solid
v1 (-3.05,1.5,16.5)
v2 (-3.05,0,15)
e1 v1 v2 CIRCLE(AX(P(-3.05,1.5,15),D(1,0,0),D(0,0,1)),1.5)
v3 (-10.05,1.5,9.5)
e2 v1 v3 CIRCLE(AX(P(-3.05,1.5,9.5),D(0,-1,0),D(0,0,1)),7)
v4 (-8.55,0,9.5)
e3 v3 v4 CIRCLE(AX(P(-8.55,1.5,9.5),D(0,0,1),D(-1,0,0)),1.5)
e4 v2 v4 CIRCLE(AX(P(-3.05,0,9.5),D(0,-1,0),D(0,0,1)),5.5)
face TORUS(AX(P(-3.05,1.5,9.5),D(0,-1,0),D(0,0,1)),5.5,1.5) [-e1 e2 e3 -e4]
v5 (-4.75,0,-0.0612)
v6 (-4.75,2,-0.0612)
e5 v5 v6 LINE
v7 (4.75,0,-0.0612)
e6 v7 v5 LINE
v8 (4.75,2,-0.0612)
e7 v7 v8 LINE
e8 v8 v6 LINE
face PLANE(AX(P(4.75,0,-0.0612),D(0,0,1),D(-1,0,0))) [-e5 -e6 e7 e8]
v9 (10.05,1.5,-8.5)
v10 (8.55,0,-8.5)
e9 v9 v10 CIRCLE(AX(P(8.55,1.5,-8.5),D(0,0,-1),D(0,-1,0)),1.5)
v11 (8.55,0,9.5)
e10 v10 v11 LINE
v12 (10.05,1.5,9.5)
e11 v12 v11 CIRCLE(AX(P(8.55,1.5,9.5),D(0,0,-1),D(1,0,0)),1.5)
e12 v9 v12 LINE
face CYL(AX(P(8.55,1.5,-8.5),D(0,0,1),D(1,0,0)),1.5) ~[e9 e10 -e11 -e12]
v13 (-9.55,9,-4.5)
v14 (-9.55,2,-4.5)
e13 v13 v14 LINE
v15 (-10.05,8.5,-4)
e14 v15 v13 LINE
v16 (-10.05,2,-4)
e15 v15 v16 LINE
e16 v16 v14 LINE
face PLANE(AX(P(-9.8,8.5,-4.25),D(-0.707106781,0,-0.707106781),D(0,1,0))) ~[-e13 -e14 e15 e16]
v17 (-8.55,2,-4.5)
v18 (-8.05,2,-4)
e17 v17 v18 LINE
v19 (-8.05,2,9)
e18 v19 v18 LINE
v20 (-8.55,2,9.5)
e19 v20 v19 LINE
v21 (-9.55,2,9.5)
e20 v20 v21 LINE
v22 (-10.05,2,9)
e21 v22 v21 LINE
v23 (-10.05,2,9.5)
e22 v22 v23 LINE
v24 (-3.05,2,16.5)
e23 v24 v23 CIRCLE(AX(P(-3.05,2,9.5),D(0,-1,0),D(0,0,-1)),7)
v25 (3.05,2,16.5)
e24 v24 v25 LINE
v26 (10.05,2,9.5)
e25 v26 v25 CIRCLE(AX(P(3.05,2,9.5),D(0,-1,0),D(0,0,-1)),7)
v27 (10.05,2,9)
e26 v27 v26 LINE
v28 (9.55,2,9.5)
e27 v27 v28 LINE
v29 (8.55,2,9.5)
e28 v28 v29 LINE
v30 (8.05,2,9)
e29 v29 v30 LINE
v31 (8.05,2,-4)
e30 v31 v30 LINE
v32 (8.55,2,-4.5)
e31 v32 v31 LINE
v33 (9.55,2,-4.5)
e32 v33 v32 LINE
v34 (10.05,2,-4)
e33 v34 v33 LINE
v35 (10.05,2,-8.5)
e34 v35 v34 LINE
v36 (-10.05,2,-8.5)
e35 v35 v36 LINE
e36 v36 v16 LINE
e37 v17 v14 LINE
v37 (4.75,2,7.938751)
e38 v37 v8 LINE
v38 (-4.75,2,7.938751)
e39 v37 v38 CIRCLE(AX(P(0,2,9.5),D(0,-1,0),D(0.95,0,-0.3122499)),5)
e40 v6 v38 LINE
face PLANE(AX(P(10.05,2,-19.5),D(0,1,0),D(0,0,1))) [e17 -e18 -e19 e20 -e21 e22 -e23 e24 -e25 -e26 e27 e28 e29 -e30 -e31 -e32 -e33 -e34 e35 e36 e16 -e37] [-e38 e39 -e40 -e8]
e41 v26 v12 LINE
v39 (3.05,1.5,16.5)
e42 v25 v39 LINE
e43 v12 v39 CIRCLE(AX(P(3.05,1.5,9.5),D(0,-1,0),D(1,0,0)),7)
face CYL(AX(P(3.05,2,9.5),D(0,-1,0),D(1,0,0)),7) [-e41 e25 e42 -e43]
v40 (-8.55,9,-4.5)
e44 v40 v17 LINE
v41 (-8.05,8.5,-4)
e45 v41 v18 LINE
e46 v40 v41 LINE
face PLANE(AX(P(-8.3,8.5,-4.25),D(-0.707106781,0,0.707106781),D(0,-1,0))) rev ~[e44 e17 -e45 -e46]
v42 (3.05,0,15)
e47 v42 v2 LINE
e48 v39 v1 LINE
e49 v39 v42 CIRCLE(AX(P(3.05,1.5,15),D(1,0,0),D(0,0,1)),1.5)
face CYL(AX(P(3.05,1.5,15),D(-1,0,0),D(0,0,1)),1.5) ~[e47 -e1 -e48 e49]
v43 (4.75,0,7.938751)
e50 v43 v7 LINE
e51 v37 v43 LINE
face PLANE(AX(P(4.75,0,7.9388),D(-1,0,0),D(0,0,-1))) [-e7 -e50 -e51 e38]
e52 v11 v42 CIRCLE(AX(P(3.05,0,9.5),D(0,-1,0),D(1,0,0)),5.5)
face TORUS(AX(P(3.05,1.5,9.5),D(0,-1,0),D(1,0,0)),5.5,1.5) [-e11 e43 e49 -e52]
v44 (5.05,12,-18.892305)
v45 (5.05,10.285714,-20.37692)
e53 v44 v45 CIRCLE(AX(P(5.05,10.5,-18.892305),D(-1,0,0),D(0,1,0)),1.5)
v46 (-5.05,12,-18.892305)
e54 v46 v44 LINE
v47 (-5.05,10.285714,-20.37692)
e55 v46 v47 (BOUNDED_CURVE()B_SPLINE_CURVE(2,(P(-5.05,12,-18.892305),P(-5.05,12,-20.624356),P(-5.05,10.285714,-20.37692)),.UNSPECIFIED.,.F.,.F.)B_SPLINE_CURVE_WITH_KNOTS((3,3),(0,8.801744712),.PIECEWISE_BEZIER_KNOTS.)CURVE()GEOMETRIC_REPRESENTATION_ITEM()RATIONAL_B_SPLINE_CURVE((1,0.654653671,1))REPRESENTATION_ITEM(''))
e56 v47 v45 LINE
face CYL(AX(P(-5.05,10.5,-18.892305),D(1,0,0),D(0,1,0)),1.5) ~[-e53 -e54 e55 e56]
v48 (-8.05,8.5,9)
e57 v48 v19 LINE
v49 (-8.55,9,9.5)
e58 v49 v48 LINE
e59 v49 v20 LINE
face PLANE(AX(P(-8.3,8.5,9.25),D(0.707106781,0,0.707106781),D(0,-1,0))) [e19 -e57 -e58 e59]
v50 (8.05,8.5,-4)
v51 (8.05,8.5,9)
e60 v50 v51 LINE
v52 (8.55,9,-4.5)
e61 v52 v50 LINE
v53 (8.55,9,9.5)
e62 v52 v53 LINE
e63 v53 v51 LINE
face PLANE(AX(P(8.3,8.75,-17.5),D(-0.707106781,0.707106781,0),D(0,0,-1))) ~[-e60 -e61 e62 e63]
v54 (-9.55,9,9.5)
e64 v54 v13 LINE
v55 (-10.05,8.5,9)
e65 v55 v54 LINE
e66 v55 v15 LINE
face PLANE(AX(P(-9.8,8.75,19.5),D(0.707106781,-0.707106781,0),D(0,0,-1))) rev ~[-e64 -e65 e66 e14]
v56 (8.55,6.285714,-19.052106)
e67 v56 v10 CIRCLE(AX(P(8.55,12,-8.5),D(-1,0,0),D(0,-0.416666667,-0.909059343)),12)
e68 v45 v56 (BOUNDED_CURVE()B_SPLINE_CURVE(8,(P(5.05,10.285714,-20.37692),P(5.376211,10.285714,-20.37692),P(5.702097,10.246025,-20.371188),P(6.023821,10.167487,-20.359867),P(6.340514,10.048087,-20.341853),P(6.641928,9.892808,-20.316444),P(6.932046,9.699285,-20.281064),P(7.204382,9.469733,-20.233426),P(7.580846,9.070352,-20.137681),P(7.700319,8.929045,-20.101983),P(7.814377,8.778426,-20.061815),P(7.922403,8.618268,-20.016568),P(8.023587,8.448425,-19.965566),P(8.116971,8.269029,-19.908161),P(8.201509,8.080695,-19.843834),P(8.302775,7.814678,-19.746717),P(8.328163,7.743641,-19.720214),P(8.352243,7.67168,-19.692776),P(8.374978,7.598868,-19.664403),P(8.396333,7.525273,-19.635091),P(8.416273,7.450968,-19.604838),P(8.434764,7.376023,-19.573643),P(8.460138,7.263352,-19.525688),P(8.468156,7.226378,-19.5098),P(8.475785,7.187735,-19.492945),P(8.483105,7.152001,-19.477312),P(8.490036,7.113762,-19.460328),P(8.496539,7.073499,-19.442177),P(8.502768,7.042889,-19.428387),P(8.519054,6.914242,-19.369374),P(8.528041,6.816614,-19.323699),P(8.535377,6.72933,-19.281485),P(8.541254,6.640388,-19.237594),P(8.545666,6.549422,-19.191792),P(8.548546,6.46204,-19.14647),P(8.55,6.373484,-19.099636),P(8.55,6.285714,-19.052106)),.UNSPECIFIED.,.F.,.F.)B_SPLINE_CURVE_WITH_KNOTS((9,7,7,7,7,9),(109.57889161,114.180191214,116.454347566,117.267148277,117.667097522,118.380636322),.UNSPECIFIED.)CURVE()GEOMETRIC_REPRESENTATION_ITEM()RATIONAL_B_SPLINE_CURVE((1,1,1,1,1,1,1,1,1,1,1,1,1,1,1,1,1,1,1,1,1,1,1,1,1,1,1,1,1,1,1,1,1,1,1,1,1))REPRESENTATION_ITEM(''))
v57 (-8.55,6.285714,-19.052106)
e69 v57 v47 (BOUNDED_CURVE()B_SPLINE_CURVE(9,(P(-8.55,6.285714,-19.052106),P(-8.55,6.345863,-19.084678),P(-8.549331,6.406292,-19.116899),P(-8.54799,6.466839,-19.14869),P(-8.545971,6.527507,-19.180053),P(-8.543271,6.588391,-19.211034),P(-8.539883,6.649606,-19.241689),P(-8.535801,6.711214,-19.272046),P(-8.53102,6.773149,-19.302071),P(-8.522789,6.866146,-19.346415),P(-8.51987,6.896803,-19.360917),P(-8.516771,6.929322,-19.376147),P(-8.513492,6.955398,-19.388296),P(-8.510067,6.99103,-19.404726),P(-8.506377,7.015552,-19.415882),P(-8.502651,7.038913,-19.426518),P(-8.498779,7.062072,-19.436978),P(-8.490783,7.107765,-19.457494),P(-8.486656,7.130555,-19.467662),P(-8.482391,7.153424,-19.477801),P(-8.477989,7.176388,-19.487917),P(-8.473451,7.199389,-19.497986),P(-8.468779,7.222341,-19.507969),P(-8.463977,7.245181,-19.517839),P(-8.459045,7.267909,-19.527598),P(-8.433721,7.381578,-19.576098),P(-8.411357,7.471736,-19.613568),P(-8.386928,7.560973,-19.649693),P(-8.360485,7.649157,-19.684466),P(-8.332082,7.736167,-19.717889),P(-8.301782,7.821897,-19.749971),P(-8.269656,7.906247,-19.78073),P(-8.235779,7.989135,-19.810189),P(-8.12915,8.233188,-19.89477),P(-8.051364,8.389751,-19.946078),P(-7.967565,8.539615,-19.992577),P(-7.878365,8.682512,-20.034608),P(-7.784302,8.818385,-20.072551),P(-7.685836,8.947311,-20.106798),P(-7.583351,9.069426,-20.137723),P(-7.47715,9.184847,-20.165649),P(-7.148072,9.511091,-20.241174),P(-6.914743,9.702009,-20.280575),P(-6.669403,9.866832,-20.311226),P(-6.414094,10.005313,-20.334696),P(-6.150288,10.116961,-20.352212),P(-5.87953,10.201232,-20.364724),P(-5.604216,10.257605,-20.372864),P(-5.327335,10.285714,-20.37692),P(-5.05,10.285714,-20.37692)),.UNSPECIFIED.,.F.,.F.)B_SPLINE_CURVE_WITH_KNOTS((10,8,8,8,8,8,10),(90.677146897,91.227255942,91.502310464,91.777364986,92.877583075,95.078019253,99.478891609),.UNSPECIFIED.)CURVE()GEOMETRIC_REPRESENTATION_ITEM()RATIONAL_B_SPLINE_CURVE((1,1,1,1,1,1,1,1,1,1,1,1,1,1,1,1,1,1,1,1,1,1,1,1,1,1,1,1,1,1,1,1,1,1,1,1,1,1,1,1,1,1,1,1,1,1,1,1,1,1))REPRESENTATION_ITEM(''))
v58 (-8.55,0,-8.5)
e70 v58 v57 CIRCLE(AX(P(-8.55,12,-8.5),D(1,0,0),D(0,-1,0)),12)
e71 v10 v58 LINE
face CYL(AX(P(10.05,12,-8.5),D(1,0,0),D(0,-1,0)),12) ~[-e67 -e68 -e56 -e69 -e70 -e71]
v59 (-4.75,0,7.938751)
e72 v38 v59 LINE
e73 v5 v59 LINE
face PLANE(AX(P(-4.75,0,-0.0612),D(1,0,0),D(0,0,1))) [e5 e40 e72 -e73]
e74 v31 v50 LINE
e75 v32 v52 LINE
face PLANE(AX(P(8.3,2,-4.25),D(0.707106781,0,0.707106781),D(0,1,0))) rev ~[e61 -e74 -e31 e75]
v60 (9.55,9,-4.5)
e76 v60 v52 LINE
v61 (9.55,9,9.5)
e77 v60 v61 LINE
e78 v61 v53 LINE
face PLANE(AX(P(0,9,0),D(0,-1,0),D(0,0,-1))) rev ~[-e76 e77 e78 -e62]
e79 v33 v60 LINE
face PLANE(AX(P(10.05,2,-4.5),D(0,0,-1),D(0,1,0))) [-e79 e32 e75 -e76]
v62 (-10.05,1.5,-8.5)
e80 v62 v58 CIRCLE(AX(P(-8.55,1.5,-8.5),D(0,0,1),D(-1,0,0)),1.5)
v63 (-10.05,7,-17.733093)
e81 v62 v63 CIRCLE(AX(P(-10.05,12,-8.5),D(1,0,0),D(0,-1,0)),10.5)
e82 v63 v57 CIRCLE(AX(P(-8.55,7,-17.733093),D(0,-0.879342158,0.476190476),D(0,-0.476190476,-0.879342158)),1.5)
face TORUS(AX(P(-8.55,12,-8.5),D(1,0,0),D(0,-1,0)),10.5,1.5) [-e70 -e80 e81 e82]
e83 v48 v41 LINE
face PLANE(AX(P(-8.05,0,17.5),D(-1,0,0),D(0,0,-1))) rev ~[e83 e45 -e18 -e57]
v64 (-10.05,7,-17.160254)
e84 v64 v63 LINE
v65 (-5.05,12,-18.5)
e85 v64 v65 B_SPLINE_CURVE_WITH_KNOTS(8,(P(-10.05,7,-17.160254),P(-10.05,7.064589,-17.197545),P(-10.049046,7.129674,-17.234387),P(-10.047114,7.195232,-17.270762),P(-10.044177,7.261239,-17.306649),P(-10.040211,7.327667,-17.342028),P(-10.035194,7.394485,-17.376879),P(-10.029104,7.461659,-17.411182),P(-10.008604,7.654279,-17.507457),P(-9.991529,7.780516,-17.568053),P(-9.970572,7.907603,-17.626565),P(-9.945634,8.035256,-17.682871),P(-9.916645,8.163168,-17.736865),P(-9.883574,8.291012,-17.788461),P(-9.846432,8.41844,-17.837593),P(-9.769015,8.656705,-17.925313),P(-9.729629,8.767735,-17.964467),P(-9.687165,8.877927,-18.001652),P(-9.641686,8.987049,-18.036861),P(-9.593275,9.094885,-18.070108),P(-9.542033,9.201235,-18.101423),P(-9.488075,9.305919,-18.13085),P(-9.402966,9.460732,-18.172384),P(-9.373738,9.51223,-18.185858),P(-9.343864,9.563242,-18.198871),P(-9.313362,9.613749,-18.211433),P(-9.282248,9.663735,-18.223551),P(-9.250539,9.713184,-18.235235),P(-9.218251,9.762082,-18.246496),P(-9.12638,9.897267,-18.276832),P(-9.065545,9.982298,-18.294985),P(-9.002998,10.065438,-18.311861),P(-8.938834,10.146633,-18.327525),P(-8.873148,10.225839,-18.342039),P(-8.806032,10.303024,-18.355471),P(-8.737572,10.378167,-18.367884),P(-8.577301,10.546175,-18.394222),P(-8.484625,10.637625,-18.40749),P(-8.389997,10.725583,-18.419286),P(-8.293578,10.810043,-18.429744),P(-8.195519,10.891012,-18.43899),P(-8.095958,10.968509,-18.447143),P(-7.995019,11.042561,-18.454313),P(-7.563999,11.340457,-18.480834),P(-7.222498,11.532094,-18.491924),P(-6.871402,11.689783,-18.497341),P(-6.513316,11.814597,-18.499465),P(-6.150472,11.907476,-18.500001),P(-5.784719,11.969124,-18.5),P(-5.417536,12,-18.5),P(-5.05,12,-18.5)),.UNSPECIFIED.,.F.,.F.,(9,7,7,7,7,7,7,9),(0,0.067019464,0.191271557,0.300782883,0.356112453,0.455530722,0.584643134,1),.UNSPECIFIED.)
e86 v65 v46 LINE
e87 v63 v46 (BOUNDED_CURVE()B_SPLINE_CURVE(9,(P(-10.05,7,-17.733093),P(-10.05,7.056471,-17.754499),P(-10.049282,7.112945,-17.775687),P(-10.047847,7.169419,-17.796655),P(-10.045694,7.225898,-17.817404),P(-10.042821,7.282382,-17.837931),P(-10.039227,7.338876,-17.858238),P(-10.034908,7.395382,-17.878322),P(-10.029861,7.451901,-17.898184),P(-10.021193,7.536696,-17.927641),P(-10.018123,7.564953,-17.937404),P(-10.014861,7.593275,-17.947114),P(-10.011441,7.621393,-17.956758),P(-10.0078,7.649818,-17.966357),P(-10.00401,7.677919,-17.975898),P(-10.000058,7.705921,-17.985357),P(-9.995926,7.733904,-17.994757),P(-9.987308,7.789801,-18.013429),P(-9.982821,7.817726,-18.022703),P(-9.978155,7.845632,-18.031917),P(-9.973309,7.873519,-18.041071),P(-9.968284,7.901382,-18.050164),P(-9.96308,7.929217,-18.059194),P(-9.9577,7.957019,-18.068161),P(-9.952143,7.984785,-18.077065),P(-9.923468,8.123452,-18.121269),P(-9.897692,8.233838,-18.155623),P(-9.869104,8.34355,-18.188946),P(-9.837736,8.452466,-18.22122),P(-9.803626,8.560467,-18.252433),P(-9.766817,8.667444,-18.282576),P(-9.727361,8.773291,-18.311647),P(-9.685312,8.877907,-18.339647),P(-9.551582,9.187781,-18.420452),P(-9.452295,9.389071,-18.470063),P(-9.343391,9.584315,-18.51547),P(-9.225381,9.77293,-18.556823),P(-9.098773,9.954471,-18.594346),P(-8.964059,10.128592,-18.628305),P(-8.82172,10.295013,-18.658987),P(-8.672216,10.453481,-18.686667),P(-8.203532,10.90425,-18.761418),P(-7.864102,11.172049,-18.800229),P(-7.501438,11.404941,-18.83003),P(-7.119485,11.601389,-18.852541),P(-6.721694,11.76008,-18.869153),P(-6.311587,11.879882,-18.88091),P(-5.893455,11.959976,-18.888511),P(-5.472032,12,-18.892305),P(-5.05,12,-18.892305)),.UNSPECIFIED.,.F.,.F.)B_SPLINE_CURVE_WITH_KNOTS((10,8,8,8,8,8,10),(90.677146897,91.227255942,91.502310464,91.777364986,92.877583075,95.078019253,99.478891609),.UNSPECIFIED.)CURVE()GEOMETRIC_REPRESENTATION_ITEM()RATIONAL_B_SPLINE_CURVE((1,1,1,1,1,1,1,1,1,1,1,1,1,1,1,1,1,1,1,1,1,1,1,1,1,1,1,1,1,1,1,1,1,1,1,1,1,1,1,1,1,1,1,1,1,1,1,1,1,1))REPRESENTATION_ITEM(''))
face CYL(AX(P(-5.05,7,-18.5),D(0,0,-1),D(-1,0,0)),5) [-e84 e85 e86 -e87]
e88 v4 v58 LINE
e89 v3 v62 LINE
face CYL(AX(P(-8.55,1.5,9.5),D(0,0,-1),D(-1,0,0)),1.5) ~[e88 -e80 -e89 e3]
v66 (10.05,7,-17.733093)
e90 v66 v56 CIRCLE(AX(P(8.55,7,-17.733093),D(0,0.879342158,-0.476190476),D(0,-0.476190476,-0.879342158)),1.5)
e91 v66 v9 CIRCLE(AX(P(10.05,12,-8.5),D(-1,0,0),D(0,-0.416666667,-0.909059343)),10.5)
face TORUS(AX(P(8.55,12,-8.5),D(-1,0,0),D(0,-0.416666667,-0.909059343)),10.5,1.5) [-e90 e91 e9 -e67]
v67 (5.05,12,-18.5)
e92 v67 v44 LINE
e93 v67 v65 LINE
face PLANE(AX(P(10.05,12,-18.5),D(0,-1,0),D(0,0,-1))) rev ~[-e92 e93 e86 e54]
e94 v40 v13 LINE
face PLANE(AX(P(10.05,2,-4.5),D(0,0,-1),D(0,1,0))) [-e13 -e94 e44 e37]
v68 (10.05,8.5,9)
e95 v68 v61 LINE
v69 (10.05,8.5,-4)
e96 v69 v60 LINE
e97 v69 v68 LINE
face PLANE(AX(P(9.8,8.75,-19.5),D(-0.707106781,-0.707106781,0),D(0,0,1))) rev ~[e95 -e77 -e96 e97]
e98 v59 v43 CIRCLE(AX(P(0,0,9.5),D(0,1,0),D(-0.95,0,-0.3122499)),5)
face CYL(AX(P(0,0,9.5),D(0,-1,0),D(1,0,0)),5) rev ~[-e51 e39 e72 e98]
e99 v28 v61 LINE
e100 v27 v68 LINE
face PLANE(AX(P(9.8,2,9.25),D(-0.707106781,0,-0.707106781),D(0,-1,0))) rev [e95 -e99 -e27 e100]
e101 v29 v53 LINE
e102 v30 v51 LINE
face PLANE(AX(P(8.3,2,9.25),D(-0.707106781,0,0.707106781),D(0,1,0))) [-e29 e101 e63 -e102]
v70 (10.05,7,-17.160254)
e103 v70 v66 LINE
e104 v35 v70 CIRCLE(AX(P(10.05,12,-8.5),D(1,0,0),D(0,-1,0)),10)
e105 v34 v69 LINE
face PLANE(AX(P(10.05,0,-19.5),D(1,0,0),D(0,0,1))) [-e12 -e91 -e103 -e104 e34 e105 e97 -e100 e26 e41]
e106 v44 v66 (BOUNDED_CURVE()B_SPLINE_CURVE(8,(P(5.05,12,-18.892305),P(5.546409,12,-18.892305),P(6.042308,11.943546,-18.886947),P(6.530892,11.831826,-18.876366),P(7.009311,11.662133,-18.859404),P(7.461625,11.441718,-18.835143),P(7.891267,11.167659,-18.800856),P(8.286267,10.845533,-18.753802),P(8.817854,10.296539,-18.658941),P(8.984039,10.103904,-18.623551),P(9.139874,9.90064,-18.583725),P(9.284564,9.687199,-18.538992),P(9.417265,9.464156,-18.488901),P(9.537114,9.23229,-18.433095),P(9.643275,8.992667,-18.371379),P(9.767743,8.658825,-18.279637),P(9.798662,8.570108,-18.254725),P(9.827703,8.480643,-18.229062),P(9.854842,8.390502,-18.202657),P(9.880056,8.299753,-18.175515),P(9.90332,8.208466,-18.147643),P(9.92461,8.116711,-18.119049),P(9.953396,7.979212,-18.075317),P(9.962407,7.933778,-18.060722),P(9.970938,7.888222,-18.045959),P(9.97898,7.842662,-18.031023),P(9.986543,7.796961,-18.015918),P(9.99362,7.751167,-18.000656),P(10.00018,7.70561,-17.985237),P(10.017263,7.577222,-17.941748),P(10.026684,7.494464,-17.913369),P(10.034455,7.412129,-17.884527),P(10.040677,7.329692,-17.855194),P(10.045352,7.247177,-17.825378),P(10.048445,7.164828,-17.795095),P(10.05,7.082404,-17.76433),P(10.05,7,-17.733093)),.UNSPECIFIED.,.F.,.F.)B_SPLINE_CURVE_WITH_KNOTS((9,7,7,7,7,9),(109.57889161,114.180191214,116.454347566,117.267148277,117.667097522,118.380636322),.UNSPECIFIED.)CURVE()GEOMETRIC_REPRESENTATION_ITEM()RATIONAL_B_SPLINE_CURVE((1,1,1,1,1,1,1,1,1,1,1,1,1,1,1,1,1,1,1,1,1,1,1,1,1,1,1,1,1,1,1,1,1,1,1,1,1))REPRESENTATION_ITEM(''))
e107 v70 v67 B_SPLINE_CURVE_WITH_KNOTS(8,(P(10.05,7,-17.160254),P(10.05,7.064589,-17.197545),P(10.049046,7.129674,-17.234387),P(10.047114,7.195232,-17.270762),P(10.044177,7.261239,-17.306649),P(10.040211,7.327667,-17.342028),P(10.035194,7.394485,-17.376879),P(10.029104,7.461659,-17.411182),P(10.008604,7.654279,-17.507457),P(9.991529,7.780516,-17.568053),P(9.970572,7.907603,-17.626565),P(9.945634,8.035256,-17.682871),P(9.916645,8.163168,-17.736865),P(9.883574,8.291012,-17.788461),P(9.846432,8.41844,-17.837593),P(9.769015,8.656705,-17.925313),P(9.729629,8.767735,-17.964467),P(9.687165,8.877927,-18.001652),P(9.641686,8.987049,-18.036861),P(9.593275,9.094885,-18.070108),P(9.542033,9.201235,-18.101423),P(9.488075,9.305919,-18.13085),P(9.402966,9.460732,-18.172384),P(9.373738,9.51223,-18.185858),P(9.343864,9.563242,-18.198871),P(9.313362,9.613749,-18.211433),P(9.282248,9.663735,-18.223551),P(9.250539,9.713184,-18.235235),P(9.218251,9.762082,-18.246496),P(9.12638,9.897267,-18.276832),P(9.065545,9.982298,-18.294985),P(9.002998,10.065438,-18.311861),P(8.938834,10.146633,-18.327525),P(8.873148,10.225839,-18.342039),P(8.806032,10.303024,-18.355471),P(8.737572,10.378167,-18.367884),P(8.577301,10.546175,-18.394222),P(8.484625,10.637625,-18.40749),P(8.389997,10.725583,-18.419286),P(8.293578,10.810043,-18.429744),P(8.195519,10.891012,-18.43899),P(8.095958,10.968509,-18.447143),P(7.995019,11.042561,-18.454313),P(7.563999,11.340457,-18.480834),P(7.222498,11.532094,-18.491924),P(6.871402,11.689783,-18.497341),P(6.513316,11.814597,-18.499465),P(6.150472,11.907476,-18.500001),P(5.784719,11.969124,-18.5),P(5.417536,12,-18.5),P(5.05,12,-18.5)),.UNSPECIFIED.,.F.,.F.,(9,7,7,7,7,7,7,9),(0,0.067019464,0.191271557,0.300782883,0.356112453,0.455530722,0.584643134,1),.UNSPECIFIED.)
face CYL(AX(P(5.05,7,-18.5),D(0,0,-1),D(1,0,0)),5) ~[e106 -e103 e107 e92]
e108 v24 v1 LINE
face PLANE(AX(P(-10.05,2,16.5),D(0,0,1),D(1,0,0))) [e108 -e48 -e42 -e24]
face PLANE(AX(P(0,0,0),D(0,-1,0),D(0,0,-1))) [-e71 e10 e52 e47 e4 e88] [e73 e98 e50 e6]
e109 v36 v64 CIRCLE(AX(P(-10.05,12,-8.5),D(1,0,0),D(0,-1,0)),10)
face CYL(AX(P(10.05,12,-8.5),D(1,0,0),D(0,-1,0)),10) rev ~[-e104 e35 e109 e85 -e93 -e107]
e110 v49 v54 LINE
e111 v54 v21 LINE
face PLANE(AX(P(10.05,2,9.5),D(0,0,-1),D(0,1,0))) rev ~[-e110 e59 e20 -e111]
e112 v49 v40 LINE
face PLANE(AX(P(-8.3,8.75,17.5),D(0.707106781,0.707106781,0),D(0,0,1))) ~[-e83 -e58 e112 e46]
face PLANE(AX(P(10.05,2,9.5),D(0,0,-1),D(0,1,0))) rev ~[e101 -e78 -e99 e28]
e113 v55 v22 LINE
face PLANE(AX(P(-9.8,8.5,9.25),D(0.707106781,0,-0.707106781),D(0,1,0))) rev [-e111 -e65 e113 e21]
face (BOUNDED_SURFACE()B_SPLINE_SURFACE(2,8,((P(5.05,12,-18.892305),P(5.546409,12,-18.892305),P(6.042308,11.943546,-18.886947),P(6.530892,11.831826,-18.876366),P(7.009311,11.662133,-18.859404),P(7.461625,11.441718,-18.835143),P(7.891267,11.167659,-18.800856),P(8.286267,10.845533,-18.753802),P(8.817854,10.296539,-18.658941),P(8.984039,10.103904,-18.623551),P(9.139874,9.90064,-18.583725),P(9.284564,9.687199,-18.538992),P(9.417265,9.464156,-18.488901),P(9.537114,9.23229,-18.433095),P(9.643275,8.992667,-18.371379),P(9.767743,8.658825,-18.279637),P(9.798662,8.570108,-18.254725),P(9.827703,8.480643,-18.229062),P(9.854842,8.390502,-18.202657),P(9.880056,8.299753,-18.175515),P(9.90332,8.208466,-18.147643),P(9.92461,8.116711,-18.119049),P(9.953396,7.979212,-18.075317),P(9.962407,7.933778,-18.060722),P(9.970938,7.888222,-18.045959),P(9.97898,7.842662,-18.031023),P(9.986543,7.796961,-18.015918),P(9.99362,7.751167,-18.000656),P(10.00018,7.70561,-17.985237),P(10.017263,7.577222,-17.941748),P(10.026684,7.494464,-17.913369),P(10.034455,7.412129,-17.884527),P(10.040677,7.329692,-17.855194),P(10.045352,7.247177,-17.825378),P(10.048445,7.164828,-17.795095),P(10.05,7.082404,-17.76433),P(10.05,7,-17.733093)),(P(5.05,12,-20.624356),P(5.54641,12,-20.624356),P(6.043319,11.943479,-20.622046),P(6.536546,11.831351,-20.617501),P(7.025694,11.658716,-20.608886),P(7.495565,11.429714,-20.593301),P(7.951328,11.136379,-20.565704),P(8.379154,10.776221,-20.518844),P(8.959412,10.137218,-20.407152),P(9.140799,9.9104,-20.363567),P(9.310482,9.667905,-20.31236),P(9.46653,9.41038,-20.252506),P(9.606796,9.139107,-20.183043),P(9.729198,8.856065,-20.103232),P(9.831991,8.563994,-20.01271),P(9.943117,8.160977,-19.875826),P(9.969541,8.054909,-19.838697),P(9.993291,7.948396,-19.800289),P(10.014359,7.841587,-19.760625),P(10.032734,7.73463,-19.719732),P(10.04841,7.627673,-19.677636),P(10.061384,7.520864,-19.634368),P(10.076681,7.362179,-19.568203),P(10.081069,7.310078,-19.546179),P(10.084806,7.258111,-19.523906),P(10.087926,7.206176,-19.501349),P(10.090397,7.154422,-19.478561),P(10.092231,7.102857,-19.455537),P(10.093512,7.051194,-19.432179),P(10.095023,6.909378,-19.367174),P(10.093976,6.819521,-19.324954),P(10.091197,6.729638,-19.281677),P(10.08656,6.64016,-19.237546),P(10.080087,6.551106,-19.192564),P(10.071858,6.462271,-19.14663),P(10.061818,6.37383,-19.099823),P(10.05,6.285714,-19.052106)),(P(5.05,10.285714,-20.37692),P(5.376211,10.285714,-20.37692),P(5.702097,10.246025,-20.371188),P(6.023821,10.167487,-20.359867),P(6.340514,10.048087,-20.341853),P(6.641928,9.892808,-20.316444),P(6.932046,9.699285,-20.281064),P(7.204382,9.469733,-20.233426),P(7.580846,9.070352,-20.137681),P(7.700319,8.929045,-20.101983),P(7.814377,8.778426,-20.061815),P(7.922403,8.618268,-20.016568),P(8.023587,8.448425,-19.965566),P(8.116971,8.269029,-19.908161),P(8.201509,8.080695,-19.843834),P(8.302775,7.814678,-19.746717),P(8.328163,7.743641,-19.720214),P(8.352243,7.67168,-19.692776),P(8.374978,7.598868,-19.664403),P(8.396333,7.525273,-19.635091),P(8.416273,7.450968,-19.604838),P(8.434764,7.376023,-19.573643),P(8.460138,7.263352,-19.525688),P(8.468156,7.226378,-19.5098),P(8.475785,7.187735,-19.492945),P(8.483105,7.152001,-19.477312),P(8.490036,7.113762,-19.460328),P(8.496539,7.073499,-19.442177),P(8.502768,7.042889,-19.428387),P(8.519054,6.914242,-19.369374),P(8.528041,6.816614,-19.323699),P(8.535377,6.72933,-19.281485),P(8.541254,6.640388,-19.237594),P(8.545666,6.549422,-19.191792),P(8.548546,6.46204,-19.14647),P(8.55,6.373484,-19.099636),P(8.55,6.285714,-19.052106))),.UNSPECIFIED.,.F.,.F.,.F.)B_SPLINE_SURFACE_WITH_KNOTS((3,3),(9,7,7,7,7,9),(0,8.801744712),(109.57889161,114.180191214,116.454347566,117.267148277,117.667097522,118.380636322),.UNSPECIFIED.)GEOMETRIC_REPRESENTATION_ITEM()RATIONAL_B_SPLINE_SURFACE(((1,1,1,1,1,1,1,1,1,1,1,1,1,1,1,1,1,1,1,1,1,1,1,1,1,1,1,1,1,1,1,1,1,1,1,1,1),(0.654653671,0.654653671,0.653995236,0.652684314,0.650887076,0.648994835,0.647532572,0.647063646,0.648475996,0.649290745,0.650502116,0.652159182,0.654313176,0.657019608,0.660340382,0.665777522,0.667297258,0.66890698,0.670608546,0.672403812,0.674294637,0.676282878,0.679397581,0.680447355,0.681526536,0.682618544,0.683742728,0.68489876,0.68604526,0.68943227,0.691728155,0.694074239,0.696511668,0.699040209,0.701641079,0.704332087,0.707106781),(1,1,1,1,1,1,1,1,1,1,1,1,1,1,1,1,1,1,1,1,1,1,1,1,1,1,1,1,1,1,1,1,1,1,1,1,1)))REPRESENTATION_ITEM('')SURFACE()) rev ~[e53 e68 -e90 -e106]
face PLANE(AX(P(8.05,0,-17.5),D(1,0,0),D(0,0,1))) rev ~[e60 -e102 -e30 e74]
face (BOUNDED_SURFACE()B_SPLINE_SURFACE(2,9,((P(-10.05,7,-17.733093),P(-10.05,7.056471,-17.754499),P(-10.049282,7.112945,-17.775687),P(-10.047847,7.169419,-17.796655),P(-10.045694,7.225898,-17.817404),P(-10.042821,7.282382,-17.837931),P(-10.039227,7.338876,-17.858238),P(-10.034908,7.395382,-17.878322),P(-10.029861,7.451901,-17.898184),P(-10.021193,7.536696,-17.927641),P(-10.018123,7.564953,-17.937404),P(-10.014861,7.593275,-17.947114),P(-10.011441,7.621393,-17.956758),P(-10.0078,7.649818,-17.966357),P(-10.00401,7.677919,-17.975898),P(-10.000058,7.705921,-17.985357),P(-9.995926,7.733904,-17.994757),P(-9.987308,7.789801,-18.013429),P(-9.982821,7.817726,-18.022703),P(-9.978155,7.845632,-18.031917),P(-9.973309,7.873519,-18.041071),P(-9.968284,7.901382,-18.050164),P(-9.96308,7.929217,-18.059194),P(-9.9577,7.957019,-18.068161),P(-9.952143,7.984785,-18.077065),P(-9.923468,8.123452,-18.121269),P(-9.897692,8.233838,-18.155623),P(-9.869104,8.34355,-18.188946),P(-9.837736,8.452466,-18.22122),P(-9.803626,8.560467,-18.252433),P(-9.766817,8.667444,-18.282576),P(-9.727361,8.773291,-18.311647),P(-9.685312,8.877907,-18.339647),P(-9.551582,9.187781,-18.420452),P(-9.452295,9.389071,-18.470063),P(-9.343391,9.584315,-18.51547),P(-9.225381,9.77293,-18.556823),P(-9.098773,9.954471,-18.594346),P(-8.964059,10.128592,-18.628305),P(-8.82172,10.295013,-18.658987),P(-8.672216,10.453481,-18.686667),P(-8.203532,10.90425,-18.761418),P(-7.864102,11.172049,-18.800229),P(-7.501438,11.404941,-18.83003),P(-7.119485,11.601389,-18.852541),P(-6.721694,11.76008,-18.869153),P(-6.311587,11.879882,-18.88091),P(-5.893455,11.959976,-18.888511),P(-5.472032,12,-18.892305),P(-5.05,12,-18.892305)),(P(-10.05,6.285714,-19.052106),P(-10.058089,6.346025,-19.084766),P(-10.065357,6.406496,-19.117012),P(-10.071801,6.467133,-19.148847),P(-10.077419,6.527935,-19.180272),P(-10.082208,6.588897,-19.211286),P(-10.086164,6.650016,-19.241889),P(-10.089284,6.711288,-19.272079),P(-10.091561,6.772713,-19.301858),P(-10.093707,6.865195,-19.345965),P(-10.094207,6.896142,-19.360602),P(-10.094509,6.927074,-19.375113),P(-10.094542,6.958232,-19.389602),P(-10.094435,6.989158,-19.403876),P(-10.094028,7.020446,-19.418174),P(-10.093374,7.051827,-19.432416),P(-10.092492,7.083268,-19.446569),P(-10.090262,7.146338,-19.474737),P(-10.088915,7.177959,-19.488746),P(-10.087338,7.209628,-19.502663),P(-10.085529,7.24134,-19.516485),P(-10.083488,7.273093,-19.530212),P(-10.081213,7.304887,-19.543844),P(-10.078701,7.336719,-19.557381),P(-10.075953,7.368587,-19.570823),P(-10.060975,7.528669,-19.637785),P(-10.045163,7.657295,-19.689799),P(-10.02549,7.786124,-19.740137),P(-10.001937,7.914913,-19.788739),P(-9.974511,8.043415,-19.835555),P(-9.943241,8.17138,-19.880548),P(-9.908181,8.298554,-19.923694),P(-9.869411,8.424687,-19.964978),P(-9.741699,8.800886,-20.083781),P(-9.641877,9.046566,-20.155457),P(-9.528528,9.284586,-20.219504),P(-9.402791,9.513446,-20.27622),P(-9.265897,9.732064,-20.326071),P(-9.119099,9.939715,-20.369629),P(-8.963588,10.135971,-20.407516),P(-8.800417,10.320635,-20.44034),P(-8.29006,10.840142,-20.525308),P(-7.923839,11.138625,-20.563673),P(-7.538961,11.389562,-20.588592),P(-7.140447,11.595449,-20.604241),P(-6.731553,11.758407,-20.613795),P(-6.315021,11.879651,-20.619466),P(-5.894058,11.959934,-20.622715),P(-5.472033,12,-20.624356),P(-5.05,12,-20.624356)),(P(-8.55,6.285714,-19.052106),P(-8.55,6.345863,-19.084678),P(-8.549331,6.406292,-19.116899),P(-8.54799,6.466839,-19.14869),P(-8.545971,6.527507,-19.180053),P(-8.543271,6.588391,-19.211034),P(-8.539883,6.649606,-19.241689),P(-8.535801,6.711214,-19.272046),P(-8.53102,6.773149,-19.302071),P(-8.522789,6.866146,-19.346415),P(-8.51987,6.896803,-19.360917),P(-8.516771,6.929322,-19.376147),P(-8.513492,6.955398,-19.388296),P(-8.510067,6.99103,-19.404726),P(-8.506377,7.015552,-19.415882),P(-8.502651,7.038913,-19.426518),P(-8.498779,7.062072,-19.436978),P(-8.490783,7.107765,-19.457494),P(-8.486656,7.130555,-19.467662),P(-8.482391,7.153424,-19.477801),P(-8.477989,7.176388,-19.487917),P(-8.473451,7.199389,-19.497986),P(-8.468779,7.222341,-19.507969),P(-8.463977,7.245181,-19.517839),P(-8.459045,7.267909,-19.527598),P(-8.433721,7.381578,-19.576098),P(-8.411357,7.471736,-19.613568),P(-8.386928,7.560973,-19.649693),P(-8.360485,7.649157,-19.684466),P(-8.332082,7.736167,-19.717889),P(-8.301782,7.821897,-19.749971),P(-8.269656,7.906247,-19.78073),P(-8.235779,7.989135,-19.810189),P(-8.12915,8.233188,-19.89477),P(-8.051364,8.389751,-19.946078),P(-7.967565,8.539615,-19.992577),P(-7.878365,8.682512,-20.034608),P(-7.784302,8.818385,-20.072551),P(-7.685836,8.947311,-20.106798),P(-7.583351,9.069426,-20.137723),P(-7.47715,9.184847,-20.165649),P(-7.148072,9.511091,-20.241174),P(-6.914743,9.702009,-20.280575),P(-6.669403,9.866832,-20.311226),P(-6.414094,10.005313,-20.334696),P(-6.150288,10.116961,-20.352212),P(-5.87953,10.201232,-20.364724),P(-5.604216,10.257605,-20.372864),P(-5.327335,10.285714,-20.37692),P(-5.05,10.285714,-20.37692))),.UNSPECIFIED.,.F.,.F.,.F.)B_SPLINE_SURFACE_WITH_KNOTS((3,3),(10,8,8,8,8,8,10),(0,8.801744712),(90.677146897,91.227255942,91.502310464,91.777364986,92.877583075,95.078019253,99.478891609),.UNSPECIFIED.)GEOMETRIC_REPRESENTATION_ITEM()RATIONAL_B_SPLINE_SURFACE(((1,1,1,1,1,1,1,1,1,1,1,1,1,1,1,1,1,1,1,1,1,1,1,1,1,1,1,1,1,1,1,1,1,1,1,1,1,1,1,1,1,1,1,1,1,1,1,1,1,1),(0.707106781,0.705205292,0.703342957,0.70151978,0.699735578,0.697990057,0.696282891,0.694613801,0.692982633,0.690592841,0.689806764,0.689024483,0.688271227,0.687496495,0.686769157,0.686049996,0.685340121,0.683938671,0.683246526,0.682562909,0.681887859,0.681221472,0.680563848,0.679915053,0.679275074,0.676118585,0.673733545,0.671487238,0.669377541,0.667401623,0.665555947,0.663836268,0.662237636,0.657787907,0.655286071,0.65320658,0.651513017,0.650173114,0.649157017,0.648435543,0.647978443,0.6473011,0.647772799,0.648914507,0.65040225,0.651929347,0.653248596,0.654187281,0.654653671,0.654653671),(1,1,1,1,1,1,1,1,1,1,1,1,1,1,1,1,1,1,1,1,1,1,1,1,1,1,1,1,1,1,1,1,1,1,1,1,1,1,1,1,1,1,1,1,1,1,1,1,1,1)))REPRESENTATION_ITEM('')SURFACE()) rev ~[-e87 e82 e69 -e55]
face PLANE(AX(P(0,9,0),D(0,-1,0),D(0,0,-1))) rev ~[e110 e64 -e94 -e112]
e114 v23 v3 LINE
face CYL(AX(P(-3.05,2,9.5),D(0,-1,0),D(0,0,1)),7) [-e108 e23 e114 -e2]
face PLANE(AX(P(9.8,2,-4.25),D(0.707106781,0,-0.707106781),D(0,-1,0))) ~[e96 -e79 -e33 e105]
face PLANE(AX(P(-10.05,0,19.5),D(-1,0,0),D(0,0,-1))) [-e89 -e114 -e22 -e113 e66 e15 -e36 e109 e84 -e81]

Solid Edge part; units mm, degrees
sketch "Sketch1" plane through (0, 0, 0) normal (0, -1, 0) x (1, 0, 0)
  line L0 (-8.05, -17.5) -> (8.05, -17.5)
  line L1 (8.05, -17.5) -> (8.05, 17.5)
  line L2 (8.05, 17.5) -> (-8.05, 17.5)
  line L3 (-8.05, 17.5) -> (-8.05, -17.5)
  dimension "D1" = 16.1
  dimension "D2" = 35
extrude "Protrusion1" add sketch "Sketch1" against normal blind 2
sketch "Sketch2" plane through (0, 0, 0) normal (0, -1, 0) x (1, 0, 0)
  line L0 (-10.05, -19.5) -> (10.05, -19.5)
  line L1 (10.05, -19.5) -> (10.05, 19.5)
  line L2 (10.05, 19.5) -> (-10.05, 19.5)
  line L3 (-10.05, 19.5) -> (-10.05, -19.5)
  line L4 (-8.05, -17.5) -> (8.05, -17.5)
  line L5 (8.05, -17.5) -> (8.05, 17.5)
  line L6 (8.05, 17.5) -> (-8.05, 17.5)
  line L7 (-8.05, 17.5) -> (-8.05, -17.5)
  dimension "D1" = 2
  dimension "D2" = 2
extrude "Extrusionsausprägung_2" add sketch "Sketch2" against normal blind 9
sketch "Sketch3" plane through (0, 0, 0) normal (0, -1, 0) x (1, 0, 0)
  circle A0 centre (0, 9.5) radius 5
  dimension "D1" = 10
  dimension "D2" = 10
extrude "Cutout1" cut sketch "Sketch3" against normal through all
sketch "Sketch4" plane through (0, 0, 0) normal (0, -1, 0) x (1, 0, 0)
  line L0 (-4.75, 7.9388) -> (4.75, 7.9388)
  line L1 (4.75, 7.9388) -> (4.75, -0.0612)
  line L2 (4.75, -0.0612) -> (-4.75, -0.0612)
  line L3 (-4.75, -0.0612) -> (-4.75, 7.9388)
  dimension "D1" = 9.5
  dimension "D2" = 8
extrude "Cutout2" cut sketch "Sketch4" against normal through all
chamfer "Fase_1" distance 0.5 angle 45 8 edges at (0, 9, 19.5) (0, 9, 17.5) (10.05, 9, 0) (8.05, 9, 0) (-8.05, 9, 0) (-10.05, 9, 0) (0, 9, -19.5) (0, 9, -17.5)
sketch "Sketch5" plane through (10.05, 5.75, 0) normal (1, 0, 0) x (0, 0, -1)
  line L0 (-19.5, -3.75) -> (-9.5, -3.75)
  line L1 (-9.5, -3.75) -> (-9.5, 3.25)
  line L2 (-9.5, 3.25) -> (-19.5, 3.25)
  line L3 (-19.5, 3.25) -> (-19.5, -3.75)
  line L4 (19.5, -3.75) -> (4.5, -3.75)
  line L5 (4.5, -3.75) -> (4.5, 3.25)
  line L6 (4.5, 3.25) -> (19.5, 3.25)
  line L7 (19.5, 3.25) -> (19.5, -3.75)
  dimension "D1" = 15
  dimension "D2" = 10
extrude "Cutout3" cut sketch "Sketch5" against normal through all
chamfer "Fase_3" distance 0.5 angle 45 8 edges at (10.05, 5.25, -4.5) (8.05, 5.25, -4.5) (-8.05, 5.25, -4.5) (-10.05, 5.25, -4.5) (-8.05, 5.25, 9.5) (-10.05, 5.25, 9.5) (8.05, 5.25, 9.5) (10.05, 5.25, 9.5)
sketch "Sketch6" plane through (0, 2, 0) normal (0, 1, 0) x (-1, 0, 0)
  line L0 (-10.05, 19.5) -> (10.05, 19.5)
  line L1 (10.05, 19.5) -> (10.05, 16.5)
  line L2 (10.05, 16.5) -> (-10.05, 16.5)
  line L3 (-10.05, 16.5) -> (-10.05, 19.5)
  dimension "D1" = 3
extrude "Cutout4" cut sketch "Sketch6" against normal through all
fillet "Verrundung_4" radius 7 2 edges at (10.05, 1, 16.5) (-10.05, 1, 16.5)
sketch "Sketch7" plane through (10.05, 4.25, -5) normal (1, 0, 0) x (0, -1, 0)
  line L0 (2.25, 14.5) -> (4.25, 14.5)
  line L1 (4.25, 14.5) -> (4.25, 3.5)
  line L2 (4.25, 3.5) -> (2.25, 3.5)
  line L3 (2.25, 3.5) -> (2.25, 14.5)
  dimension "D1" = 25
extrude "Cutout5" cut sketch "Sketch7" against normal through all
sketch "Sketch8" plane through (10.05, 4.25, 0.5) normal (1, 0, 0) x (0, -1, 0)
  arc A0 (2.25, 9) -> (-7.75, 19) centre (-7.75, 9) ccw
  line L0 (-7.75, 19) -> (-7.75, 21)
  arc A1 (-7.75, 21) -> (4.25, 9) centre (-7.75, 9) cw
  line L1 (4.25, 9) -> (2.25, 9)
  dimension "D1" = 10
extrude "Protrusion2" add sketch "Sketch8" against normal up to vertex (20.1 mm away)
fillet "Verrundung_5" radius 5 2 edges at (10.05, 12, -19.5) (-10.05, 12, -19.5)
fillet "Verrundung_6" radius 1.5 10 edges at (10.05, 1.9005, -14.9807) (10.05, 0, 0.5) (7.9997, 0, 14.4497) (0, 0, 16.5) (-7.9997, 0, 14.4497) (-10.05, 0, 0.5) (-10.05, 1.9005, -14.9807) (-8.6361, 10.4842, -20.4039) (0, 12, -20.5) (8.6361, 10.4842, -20.4039)
